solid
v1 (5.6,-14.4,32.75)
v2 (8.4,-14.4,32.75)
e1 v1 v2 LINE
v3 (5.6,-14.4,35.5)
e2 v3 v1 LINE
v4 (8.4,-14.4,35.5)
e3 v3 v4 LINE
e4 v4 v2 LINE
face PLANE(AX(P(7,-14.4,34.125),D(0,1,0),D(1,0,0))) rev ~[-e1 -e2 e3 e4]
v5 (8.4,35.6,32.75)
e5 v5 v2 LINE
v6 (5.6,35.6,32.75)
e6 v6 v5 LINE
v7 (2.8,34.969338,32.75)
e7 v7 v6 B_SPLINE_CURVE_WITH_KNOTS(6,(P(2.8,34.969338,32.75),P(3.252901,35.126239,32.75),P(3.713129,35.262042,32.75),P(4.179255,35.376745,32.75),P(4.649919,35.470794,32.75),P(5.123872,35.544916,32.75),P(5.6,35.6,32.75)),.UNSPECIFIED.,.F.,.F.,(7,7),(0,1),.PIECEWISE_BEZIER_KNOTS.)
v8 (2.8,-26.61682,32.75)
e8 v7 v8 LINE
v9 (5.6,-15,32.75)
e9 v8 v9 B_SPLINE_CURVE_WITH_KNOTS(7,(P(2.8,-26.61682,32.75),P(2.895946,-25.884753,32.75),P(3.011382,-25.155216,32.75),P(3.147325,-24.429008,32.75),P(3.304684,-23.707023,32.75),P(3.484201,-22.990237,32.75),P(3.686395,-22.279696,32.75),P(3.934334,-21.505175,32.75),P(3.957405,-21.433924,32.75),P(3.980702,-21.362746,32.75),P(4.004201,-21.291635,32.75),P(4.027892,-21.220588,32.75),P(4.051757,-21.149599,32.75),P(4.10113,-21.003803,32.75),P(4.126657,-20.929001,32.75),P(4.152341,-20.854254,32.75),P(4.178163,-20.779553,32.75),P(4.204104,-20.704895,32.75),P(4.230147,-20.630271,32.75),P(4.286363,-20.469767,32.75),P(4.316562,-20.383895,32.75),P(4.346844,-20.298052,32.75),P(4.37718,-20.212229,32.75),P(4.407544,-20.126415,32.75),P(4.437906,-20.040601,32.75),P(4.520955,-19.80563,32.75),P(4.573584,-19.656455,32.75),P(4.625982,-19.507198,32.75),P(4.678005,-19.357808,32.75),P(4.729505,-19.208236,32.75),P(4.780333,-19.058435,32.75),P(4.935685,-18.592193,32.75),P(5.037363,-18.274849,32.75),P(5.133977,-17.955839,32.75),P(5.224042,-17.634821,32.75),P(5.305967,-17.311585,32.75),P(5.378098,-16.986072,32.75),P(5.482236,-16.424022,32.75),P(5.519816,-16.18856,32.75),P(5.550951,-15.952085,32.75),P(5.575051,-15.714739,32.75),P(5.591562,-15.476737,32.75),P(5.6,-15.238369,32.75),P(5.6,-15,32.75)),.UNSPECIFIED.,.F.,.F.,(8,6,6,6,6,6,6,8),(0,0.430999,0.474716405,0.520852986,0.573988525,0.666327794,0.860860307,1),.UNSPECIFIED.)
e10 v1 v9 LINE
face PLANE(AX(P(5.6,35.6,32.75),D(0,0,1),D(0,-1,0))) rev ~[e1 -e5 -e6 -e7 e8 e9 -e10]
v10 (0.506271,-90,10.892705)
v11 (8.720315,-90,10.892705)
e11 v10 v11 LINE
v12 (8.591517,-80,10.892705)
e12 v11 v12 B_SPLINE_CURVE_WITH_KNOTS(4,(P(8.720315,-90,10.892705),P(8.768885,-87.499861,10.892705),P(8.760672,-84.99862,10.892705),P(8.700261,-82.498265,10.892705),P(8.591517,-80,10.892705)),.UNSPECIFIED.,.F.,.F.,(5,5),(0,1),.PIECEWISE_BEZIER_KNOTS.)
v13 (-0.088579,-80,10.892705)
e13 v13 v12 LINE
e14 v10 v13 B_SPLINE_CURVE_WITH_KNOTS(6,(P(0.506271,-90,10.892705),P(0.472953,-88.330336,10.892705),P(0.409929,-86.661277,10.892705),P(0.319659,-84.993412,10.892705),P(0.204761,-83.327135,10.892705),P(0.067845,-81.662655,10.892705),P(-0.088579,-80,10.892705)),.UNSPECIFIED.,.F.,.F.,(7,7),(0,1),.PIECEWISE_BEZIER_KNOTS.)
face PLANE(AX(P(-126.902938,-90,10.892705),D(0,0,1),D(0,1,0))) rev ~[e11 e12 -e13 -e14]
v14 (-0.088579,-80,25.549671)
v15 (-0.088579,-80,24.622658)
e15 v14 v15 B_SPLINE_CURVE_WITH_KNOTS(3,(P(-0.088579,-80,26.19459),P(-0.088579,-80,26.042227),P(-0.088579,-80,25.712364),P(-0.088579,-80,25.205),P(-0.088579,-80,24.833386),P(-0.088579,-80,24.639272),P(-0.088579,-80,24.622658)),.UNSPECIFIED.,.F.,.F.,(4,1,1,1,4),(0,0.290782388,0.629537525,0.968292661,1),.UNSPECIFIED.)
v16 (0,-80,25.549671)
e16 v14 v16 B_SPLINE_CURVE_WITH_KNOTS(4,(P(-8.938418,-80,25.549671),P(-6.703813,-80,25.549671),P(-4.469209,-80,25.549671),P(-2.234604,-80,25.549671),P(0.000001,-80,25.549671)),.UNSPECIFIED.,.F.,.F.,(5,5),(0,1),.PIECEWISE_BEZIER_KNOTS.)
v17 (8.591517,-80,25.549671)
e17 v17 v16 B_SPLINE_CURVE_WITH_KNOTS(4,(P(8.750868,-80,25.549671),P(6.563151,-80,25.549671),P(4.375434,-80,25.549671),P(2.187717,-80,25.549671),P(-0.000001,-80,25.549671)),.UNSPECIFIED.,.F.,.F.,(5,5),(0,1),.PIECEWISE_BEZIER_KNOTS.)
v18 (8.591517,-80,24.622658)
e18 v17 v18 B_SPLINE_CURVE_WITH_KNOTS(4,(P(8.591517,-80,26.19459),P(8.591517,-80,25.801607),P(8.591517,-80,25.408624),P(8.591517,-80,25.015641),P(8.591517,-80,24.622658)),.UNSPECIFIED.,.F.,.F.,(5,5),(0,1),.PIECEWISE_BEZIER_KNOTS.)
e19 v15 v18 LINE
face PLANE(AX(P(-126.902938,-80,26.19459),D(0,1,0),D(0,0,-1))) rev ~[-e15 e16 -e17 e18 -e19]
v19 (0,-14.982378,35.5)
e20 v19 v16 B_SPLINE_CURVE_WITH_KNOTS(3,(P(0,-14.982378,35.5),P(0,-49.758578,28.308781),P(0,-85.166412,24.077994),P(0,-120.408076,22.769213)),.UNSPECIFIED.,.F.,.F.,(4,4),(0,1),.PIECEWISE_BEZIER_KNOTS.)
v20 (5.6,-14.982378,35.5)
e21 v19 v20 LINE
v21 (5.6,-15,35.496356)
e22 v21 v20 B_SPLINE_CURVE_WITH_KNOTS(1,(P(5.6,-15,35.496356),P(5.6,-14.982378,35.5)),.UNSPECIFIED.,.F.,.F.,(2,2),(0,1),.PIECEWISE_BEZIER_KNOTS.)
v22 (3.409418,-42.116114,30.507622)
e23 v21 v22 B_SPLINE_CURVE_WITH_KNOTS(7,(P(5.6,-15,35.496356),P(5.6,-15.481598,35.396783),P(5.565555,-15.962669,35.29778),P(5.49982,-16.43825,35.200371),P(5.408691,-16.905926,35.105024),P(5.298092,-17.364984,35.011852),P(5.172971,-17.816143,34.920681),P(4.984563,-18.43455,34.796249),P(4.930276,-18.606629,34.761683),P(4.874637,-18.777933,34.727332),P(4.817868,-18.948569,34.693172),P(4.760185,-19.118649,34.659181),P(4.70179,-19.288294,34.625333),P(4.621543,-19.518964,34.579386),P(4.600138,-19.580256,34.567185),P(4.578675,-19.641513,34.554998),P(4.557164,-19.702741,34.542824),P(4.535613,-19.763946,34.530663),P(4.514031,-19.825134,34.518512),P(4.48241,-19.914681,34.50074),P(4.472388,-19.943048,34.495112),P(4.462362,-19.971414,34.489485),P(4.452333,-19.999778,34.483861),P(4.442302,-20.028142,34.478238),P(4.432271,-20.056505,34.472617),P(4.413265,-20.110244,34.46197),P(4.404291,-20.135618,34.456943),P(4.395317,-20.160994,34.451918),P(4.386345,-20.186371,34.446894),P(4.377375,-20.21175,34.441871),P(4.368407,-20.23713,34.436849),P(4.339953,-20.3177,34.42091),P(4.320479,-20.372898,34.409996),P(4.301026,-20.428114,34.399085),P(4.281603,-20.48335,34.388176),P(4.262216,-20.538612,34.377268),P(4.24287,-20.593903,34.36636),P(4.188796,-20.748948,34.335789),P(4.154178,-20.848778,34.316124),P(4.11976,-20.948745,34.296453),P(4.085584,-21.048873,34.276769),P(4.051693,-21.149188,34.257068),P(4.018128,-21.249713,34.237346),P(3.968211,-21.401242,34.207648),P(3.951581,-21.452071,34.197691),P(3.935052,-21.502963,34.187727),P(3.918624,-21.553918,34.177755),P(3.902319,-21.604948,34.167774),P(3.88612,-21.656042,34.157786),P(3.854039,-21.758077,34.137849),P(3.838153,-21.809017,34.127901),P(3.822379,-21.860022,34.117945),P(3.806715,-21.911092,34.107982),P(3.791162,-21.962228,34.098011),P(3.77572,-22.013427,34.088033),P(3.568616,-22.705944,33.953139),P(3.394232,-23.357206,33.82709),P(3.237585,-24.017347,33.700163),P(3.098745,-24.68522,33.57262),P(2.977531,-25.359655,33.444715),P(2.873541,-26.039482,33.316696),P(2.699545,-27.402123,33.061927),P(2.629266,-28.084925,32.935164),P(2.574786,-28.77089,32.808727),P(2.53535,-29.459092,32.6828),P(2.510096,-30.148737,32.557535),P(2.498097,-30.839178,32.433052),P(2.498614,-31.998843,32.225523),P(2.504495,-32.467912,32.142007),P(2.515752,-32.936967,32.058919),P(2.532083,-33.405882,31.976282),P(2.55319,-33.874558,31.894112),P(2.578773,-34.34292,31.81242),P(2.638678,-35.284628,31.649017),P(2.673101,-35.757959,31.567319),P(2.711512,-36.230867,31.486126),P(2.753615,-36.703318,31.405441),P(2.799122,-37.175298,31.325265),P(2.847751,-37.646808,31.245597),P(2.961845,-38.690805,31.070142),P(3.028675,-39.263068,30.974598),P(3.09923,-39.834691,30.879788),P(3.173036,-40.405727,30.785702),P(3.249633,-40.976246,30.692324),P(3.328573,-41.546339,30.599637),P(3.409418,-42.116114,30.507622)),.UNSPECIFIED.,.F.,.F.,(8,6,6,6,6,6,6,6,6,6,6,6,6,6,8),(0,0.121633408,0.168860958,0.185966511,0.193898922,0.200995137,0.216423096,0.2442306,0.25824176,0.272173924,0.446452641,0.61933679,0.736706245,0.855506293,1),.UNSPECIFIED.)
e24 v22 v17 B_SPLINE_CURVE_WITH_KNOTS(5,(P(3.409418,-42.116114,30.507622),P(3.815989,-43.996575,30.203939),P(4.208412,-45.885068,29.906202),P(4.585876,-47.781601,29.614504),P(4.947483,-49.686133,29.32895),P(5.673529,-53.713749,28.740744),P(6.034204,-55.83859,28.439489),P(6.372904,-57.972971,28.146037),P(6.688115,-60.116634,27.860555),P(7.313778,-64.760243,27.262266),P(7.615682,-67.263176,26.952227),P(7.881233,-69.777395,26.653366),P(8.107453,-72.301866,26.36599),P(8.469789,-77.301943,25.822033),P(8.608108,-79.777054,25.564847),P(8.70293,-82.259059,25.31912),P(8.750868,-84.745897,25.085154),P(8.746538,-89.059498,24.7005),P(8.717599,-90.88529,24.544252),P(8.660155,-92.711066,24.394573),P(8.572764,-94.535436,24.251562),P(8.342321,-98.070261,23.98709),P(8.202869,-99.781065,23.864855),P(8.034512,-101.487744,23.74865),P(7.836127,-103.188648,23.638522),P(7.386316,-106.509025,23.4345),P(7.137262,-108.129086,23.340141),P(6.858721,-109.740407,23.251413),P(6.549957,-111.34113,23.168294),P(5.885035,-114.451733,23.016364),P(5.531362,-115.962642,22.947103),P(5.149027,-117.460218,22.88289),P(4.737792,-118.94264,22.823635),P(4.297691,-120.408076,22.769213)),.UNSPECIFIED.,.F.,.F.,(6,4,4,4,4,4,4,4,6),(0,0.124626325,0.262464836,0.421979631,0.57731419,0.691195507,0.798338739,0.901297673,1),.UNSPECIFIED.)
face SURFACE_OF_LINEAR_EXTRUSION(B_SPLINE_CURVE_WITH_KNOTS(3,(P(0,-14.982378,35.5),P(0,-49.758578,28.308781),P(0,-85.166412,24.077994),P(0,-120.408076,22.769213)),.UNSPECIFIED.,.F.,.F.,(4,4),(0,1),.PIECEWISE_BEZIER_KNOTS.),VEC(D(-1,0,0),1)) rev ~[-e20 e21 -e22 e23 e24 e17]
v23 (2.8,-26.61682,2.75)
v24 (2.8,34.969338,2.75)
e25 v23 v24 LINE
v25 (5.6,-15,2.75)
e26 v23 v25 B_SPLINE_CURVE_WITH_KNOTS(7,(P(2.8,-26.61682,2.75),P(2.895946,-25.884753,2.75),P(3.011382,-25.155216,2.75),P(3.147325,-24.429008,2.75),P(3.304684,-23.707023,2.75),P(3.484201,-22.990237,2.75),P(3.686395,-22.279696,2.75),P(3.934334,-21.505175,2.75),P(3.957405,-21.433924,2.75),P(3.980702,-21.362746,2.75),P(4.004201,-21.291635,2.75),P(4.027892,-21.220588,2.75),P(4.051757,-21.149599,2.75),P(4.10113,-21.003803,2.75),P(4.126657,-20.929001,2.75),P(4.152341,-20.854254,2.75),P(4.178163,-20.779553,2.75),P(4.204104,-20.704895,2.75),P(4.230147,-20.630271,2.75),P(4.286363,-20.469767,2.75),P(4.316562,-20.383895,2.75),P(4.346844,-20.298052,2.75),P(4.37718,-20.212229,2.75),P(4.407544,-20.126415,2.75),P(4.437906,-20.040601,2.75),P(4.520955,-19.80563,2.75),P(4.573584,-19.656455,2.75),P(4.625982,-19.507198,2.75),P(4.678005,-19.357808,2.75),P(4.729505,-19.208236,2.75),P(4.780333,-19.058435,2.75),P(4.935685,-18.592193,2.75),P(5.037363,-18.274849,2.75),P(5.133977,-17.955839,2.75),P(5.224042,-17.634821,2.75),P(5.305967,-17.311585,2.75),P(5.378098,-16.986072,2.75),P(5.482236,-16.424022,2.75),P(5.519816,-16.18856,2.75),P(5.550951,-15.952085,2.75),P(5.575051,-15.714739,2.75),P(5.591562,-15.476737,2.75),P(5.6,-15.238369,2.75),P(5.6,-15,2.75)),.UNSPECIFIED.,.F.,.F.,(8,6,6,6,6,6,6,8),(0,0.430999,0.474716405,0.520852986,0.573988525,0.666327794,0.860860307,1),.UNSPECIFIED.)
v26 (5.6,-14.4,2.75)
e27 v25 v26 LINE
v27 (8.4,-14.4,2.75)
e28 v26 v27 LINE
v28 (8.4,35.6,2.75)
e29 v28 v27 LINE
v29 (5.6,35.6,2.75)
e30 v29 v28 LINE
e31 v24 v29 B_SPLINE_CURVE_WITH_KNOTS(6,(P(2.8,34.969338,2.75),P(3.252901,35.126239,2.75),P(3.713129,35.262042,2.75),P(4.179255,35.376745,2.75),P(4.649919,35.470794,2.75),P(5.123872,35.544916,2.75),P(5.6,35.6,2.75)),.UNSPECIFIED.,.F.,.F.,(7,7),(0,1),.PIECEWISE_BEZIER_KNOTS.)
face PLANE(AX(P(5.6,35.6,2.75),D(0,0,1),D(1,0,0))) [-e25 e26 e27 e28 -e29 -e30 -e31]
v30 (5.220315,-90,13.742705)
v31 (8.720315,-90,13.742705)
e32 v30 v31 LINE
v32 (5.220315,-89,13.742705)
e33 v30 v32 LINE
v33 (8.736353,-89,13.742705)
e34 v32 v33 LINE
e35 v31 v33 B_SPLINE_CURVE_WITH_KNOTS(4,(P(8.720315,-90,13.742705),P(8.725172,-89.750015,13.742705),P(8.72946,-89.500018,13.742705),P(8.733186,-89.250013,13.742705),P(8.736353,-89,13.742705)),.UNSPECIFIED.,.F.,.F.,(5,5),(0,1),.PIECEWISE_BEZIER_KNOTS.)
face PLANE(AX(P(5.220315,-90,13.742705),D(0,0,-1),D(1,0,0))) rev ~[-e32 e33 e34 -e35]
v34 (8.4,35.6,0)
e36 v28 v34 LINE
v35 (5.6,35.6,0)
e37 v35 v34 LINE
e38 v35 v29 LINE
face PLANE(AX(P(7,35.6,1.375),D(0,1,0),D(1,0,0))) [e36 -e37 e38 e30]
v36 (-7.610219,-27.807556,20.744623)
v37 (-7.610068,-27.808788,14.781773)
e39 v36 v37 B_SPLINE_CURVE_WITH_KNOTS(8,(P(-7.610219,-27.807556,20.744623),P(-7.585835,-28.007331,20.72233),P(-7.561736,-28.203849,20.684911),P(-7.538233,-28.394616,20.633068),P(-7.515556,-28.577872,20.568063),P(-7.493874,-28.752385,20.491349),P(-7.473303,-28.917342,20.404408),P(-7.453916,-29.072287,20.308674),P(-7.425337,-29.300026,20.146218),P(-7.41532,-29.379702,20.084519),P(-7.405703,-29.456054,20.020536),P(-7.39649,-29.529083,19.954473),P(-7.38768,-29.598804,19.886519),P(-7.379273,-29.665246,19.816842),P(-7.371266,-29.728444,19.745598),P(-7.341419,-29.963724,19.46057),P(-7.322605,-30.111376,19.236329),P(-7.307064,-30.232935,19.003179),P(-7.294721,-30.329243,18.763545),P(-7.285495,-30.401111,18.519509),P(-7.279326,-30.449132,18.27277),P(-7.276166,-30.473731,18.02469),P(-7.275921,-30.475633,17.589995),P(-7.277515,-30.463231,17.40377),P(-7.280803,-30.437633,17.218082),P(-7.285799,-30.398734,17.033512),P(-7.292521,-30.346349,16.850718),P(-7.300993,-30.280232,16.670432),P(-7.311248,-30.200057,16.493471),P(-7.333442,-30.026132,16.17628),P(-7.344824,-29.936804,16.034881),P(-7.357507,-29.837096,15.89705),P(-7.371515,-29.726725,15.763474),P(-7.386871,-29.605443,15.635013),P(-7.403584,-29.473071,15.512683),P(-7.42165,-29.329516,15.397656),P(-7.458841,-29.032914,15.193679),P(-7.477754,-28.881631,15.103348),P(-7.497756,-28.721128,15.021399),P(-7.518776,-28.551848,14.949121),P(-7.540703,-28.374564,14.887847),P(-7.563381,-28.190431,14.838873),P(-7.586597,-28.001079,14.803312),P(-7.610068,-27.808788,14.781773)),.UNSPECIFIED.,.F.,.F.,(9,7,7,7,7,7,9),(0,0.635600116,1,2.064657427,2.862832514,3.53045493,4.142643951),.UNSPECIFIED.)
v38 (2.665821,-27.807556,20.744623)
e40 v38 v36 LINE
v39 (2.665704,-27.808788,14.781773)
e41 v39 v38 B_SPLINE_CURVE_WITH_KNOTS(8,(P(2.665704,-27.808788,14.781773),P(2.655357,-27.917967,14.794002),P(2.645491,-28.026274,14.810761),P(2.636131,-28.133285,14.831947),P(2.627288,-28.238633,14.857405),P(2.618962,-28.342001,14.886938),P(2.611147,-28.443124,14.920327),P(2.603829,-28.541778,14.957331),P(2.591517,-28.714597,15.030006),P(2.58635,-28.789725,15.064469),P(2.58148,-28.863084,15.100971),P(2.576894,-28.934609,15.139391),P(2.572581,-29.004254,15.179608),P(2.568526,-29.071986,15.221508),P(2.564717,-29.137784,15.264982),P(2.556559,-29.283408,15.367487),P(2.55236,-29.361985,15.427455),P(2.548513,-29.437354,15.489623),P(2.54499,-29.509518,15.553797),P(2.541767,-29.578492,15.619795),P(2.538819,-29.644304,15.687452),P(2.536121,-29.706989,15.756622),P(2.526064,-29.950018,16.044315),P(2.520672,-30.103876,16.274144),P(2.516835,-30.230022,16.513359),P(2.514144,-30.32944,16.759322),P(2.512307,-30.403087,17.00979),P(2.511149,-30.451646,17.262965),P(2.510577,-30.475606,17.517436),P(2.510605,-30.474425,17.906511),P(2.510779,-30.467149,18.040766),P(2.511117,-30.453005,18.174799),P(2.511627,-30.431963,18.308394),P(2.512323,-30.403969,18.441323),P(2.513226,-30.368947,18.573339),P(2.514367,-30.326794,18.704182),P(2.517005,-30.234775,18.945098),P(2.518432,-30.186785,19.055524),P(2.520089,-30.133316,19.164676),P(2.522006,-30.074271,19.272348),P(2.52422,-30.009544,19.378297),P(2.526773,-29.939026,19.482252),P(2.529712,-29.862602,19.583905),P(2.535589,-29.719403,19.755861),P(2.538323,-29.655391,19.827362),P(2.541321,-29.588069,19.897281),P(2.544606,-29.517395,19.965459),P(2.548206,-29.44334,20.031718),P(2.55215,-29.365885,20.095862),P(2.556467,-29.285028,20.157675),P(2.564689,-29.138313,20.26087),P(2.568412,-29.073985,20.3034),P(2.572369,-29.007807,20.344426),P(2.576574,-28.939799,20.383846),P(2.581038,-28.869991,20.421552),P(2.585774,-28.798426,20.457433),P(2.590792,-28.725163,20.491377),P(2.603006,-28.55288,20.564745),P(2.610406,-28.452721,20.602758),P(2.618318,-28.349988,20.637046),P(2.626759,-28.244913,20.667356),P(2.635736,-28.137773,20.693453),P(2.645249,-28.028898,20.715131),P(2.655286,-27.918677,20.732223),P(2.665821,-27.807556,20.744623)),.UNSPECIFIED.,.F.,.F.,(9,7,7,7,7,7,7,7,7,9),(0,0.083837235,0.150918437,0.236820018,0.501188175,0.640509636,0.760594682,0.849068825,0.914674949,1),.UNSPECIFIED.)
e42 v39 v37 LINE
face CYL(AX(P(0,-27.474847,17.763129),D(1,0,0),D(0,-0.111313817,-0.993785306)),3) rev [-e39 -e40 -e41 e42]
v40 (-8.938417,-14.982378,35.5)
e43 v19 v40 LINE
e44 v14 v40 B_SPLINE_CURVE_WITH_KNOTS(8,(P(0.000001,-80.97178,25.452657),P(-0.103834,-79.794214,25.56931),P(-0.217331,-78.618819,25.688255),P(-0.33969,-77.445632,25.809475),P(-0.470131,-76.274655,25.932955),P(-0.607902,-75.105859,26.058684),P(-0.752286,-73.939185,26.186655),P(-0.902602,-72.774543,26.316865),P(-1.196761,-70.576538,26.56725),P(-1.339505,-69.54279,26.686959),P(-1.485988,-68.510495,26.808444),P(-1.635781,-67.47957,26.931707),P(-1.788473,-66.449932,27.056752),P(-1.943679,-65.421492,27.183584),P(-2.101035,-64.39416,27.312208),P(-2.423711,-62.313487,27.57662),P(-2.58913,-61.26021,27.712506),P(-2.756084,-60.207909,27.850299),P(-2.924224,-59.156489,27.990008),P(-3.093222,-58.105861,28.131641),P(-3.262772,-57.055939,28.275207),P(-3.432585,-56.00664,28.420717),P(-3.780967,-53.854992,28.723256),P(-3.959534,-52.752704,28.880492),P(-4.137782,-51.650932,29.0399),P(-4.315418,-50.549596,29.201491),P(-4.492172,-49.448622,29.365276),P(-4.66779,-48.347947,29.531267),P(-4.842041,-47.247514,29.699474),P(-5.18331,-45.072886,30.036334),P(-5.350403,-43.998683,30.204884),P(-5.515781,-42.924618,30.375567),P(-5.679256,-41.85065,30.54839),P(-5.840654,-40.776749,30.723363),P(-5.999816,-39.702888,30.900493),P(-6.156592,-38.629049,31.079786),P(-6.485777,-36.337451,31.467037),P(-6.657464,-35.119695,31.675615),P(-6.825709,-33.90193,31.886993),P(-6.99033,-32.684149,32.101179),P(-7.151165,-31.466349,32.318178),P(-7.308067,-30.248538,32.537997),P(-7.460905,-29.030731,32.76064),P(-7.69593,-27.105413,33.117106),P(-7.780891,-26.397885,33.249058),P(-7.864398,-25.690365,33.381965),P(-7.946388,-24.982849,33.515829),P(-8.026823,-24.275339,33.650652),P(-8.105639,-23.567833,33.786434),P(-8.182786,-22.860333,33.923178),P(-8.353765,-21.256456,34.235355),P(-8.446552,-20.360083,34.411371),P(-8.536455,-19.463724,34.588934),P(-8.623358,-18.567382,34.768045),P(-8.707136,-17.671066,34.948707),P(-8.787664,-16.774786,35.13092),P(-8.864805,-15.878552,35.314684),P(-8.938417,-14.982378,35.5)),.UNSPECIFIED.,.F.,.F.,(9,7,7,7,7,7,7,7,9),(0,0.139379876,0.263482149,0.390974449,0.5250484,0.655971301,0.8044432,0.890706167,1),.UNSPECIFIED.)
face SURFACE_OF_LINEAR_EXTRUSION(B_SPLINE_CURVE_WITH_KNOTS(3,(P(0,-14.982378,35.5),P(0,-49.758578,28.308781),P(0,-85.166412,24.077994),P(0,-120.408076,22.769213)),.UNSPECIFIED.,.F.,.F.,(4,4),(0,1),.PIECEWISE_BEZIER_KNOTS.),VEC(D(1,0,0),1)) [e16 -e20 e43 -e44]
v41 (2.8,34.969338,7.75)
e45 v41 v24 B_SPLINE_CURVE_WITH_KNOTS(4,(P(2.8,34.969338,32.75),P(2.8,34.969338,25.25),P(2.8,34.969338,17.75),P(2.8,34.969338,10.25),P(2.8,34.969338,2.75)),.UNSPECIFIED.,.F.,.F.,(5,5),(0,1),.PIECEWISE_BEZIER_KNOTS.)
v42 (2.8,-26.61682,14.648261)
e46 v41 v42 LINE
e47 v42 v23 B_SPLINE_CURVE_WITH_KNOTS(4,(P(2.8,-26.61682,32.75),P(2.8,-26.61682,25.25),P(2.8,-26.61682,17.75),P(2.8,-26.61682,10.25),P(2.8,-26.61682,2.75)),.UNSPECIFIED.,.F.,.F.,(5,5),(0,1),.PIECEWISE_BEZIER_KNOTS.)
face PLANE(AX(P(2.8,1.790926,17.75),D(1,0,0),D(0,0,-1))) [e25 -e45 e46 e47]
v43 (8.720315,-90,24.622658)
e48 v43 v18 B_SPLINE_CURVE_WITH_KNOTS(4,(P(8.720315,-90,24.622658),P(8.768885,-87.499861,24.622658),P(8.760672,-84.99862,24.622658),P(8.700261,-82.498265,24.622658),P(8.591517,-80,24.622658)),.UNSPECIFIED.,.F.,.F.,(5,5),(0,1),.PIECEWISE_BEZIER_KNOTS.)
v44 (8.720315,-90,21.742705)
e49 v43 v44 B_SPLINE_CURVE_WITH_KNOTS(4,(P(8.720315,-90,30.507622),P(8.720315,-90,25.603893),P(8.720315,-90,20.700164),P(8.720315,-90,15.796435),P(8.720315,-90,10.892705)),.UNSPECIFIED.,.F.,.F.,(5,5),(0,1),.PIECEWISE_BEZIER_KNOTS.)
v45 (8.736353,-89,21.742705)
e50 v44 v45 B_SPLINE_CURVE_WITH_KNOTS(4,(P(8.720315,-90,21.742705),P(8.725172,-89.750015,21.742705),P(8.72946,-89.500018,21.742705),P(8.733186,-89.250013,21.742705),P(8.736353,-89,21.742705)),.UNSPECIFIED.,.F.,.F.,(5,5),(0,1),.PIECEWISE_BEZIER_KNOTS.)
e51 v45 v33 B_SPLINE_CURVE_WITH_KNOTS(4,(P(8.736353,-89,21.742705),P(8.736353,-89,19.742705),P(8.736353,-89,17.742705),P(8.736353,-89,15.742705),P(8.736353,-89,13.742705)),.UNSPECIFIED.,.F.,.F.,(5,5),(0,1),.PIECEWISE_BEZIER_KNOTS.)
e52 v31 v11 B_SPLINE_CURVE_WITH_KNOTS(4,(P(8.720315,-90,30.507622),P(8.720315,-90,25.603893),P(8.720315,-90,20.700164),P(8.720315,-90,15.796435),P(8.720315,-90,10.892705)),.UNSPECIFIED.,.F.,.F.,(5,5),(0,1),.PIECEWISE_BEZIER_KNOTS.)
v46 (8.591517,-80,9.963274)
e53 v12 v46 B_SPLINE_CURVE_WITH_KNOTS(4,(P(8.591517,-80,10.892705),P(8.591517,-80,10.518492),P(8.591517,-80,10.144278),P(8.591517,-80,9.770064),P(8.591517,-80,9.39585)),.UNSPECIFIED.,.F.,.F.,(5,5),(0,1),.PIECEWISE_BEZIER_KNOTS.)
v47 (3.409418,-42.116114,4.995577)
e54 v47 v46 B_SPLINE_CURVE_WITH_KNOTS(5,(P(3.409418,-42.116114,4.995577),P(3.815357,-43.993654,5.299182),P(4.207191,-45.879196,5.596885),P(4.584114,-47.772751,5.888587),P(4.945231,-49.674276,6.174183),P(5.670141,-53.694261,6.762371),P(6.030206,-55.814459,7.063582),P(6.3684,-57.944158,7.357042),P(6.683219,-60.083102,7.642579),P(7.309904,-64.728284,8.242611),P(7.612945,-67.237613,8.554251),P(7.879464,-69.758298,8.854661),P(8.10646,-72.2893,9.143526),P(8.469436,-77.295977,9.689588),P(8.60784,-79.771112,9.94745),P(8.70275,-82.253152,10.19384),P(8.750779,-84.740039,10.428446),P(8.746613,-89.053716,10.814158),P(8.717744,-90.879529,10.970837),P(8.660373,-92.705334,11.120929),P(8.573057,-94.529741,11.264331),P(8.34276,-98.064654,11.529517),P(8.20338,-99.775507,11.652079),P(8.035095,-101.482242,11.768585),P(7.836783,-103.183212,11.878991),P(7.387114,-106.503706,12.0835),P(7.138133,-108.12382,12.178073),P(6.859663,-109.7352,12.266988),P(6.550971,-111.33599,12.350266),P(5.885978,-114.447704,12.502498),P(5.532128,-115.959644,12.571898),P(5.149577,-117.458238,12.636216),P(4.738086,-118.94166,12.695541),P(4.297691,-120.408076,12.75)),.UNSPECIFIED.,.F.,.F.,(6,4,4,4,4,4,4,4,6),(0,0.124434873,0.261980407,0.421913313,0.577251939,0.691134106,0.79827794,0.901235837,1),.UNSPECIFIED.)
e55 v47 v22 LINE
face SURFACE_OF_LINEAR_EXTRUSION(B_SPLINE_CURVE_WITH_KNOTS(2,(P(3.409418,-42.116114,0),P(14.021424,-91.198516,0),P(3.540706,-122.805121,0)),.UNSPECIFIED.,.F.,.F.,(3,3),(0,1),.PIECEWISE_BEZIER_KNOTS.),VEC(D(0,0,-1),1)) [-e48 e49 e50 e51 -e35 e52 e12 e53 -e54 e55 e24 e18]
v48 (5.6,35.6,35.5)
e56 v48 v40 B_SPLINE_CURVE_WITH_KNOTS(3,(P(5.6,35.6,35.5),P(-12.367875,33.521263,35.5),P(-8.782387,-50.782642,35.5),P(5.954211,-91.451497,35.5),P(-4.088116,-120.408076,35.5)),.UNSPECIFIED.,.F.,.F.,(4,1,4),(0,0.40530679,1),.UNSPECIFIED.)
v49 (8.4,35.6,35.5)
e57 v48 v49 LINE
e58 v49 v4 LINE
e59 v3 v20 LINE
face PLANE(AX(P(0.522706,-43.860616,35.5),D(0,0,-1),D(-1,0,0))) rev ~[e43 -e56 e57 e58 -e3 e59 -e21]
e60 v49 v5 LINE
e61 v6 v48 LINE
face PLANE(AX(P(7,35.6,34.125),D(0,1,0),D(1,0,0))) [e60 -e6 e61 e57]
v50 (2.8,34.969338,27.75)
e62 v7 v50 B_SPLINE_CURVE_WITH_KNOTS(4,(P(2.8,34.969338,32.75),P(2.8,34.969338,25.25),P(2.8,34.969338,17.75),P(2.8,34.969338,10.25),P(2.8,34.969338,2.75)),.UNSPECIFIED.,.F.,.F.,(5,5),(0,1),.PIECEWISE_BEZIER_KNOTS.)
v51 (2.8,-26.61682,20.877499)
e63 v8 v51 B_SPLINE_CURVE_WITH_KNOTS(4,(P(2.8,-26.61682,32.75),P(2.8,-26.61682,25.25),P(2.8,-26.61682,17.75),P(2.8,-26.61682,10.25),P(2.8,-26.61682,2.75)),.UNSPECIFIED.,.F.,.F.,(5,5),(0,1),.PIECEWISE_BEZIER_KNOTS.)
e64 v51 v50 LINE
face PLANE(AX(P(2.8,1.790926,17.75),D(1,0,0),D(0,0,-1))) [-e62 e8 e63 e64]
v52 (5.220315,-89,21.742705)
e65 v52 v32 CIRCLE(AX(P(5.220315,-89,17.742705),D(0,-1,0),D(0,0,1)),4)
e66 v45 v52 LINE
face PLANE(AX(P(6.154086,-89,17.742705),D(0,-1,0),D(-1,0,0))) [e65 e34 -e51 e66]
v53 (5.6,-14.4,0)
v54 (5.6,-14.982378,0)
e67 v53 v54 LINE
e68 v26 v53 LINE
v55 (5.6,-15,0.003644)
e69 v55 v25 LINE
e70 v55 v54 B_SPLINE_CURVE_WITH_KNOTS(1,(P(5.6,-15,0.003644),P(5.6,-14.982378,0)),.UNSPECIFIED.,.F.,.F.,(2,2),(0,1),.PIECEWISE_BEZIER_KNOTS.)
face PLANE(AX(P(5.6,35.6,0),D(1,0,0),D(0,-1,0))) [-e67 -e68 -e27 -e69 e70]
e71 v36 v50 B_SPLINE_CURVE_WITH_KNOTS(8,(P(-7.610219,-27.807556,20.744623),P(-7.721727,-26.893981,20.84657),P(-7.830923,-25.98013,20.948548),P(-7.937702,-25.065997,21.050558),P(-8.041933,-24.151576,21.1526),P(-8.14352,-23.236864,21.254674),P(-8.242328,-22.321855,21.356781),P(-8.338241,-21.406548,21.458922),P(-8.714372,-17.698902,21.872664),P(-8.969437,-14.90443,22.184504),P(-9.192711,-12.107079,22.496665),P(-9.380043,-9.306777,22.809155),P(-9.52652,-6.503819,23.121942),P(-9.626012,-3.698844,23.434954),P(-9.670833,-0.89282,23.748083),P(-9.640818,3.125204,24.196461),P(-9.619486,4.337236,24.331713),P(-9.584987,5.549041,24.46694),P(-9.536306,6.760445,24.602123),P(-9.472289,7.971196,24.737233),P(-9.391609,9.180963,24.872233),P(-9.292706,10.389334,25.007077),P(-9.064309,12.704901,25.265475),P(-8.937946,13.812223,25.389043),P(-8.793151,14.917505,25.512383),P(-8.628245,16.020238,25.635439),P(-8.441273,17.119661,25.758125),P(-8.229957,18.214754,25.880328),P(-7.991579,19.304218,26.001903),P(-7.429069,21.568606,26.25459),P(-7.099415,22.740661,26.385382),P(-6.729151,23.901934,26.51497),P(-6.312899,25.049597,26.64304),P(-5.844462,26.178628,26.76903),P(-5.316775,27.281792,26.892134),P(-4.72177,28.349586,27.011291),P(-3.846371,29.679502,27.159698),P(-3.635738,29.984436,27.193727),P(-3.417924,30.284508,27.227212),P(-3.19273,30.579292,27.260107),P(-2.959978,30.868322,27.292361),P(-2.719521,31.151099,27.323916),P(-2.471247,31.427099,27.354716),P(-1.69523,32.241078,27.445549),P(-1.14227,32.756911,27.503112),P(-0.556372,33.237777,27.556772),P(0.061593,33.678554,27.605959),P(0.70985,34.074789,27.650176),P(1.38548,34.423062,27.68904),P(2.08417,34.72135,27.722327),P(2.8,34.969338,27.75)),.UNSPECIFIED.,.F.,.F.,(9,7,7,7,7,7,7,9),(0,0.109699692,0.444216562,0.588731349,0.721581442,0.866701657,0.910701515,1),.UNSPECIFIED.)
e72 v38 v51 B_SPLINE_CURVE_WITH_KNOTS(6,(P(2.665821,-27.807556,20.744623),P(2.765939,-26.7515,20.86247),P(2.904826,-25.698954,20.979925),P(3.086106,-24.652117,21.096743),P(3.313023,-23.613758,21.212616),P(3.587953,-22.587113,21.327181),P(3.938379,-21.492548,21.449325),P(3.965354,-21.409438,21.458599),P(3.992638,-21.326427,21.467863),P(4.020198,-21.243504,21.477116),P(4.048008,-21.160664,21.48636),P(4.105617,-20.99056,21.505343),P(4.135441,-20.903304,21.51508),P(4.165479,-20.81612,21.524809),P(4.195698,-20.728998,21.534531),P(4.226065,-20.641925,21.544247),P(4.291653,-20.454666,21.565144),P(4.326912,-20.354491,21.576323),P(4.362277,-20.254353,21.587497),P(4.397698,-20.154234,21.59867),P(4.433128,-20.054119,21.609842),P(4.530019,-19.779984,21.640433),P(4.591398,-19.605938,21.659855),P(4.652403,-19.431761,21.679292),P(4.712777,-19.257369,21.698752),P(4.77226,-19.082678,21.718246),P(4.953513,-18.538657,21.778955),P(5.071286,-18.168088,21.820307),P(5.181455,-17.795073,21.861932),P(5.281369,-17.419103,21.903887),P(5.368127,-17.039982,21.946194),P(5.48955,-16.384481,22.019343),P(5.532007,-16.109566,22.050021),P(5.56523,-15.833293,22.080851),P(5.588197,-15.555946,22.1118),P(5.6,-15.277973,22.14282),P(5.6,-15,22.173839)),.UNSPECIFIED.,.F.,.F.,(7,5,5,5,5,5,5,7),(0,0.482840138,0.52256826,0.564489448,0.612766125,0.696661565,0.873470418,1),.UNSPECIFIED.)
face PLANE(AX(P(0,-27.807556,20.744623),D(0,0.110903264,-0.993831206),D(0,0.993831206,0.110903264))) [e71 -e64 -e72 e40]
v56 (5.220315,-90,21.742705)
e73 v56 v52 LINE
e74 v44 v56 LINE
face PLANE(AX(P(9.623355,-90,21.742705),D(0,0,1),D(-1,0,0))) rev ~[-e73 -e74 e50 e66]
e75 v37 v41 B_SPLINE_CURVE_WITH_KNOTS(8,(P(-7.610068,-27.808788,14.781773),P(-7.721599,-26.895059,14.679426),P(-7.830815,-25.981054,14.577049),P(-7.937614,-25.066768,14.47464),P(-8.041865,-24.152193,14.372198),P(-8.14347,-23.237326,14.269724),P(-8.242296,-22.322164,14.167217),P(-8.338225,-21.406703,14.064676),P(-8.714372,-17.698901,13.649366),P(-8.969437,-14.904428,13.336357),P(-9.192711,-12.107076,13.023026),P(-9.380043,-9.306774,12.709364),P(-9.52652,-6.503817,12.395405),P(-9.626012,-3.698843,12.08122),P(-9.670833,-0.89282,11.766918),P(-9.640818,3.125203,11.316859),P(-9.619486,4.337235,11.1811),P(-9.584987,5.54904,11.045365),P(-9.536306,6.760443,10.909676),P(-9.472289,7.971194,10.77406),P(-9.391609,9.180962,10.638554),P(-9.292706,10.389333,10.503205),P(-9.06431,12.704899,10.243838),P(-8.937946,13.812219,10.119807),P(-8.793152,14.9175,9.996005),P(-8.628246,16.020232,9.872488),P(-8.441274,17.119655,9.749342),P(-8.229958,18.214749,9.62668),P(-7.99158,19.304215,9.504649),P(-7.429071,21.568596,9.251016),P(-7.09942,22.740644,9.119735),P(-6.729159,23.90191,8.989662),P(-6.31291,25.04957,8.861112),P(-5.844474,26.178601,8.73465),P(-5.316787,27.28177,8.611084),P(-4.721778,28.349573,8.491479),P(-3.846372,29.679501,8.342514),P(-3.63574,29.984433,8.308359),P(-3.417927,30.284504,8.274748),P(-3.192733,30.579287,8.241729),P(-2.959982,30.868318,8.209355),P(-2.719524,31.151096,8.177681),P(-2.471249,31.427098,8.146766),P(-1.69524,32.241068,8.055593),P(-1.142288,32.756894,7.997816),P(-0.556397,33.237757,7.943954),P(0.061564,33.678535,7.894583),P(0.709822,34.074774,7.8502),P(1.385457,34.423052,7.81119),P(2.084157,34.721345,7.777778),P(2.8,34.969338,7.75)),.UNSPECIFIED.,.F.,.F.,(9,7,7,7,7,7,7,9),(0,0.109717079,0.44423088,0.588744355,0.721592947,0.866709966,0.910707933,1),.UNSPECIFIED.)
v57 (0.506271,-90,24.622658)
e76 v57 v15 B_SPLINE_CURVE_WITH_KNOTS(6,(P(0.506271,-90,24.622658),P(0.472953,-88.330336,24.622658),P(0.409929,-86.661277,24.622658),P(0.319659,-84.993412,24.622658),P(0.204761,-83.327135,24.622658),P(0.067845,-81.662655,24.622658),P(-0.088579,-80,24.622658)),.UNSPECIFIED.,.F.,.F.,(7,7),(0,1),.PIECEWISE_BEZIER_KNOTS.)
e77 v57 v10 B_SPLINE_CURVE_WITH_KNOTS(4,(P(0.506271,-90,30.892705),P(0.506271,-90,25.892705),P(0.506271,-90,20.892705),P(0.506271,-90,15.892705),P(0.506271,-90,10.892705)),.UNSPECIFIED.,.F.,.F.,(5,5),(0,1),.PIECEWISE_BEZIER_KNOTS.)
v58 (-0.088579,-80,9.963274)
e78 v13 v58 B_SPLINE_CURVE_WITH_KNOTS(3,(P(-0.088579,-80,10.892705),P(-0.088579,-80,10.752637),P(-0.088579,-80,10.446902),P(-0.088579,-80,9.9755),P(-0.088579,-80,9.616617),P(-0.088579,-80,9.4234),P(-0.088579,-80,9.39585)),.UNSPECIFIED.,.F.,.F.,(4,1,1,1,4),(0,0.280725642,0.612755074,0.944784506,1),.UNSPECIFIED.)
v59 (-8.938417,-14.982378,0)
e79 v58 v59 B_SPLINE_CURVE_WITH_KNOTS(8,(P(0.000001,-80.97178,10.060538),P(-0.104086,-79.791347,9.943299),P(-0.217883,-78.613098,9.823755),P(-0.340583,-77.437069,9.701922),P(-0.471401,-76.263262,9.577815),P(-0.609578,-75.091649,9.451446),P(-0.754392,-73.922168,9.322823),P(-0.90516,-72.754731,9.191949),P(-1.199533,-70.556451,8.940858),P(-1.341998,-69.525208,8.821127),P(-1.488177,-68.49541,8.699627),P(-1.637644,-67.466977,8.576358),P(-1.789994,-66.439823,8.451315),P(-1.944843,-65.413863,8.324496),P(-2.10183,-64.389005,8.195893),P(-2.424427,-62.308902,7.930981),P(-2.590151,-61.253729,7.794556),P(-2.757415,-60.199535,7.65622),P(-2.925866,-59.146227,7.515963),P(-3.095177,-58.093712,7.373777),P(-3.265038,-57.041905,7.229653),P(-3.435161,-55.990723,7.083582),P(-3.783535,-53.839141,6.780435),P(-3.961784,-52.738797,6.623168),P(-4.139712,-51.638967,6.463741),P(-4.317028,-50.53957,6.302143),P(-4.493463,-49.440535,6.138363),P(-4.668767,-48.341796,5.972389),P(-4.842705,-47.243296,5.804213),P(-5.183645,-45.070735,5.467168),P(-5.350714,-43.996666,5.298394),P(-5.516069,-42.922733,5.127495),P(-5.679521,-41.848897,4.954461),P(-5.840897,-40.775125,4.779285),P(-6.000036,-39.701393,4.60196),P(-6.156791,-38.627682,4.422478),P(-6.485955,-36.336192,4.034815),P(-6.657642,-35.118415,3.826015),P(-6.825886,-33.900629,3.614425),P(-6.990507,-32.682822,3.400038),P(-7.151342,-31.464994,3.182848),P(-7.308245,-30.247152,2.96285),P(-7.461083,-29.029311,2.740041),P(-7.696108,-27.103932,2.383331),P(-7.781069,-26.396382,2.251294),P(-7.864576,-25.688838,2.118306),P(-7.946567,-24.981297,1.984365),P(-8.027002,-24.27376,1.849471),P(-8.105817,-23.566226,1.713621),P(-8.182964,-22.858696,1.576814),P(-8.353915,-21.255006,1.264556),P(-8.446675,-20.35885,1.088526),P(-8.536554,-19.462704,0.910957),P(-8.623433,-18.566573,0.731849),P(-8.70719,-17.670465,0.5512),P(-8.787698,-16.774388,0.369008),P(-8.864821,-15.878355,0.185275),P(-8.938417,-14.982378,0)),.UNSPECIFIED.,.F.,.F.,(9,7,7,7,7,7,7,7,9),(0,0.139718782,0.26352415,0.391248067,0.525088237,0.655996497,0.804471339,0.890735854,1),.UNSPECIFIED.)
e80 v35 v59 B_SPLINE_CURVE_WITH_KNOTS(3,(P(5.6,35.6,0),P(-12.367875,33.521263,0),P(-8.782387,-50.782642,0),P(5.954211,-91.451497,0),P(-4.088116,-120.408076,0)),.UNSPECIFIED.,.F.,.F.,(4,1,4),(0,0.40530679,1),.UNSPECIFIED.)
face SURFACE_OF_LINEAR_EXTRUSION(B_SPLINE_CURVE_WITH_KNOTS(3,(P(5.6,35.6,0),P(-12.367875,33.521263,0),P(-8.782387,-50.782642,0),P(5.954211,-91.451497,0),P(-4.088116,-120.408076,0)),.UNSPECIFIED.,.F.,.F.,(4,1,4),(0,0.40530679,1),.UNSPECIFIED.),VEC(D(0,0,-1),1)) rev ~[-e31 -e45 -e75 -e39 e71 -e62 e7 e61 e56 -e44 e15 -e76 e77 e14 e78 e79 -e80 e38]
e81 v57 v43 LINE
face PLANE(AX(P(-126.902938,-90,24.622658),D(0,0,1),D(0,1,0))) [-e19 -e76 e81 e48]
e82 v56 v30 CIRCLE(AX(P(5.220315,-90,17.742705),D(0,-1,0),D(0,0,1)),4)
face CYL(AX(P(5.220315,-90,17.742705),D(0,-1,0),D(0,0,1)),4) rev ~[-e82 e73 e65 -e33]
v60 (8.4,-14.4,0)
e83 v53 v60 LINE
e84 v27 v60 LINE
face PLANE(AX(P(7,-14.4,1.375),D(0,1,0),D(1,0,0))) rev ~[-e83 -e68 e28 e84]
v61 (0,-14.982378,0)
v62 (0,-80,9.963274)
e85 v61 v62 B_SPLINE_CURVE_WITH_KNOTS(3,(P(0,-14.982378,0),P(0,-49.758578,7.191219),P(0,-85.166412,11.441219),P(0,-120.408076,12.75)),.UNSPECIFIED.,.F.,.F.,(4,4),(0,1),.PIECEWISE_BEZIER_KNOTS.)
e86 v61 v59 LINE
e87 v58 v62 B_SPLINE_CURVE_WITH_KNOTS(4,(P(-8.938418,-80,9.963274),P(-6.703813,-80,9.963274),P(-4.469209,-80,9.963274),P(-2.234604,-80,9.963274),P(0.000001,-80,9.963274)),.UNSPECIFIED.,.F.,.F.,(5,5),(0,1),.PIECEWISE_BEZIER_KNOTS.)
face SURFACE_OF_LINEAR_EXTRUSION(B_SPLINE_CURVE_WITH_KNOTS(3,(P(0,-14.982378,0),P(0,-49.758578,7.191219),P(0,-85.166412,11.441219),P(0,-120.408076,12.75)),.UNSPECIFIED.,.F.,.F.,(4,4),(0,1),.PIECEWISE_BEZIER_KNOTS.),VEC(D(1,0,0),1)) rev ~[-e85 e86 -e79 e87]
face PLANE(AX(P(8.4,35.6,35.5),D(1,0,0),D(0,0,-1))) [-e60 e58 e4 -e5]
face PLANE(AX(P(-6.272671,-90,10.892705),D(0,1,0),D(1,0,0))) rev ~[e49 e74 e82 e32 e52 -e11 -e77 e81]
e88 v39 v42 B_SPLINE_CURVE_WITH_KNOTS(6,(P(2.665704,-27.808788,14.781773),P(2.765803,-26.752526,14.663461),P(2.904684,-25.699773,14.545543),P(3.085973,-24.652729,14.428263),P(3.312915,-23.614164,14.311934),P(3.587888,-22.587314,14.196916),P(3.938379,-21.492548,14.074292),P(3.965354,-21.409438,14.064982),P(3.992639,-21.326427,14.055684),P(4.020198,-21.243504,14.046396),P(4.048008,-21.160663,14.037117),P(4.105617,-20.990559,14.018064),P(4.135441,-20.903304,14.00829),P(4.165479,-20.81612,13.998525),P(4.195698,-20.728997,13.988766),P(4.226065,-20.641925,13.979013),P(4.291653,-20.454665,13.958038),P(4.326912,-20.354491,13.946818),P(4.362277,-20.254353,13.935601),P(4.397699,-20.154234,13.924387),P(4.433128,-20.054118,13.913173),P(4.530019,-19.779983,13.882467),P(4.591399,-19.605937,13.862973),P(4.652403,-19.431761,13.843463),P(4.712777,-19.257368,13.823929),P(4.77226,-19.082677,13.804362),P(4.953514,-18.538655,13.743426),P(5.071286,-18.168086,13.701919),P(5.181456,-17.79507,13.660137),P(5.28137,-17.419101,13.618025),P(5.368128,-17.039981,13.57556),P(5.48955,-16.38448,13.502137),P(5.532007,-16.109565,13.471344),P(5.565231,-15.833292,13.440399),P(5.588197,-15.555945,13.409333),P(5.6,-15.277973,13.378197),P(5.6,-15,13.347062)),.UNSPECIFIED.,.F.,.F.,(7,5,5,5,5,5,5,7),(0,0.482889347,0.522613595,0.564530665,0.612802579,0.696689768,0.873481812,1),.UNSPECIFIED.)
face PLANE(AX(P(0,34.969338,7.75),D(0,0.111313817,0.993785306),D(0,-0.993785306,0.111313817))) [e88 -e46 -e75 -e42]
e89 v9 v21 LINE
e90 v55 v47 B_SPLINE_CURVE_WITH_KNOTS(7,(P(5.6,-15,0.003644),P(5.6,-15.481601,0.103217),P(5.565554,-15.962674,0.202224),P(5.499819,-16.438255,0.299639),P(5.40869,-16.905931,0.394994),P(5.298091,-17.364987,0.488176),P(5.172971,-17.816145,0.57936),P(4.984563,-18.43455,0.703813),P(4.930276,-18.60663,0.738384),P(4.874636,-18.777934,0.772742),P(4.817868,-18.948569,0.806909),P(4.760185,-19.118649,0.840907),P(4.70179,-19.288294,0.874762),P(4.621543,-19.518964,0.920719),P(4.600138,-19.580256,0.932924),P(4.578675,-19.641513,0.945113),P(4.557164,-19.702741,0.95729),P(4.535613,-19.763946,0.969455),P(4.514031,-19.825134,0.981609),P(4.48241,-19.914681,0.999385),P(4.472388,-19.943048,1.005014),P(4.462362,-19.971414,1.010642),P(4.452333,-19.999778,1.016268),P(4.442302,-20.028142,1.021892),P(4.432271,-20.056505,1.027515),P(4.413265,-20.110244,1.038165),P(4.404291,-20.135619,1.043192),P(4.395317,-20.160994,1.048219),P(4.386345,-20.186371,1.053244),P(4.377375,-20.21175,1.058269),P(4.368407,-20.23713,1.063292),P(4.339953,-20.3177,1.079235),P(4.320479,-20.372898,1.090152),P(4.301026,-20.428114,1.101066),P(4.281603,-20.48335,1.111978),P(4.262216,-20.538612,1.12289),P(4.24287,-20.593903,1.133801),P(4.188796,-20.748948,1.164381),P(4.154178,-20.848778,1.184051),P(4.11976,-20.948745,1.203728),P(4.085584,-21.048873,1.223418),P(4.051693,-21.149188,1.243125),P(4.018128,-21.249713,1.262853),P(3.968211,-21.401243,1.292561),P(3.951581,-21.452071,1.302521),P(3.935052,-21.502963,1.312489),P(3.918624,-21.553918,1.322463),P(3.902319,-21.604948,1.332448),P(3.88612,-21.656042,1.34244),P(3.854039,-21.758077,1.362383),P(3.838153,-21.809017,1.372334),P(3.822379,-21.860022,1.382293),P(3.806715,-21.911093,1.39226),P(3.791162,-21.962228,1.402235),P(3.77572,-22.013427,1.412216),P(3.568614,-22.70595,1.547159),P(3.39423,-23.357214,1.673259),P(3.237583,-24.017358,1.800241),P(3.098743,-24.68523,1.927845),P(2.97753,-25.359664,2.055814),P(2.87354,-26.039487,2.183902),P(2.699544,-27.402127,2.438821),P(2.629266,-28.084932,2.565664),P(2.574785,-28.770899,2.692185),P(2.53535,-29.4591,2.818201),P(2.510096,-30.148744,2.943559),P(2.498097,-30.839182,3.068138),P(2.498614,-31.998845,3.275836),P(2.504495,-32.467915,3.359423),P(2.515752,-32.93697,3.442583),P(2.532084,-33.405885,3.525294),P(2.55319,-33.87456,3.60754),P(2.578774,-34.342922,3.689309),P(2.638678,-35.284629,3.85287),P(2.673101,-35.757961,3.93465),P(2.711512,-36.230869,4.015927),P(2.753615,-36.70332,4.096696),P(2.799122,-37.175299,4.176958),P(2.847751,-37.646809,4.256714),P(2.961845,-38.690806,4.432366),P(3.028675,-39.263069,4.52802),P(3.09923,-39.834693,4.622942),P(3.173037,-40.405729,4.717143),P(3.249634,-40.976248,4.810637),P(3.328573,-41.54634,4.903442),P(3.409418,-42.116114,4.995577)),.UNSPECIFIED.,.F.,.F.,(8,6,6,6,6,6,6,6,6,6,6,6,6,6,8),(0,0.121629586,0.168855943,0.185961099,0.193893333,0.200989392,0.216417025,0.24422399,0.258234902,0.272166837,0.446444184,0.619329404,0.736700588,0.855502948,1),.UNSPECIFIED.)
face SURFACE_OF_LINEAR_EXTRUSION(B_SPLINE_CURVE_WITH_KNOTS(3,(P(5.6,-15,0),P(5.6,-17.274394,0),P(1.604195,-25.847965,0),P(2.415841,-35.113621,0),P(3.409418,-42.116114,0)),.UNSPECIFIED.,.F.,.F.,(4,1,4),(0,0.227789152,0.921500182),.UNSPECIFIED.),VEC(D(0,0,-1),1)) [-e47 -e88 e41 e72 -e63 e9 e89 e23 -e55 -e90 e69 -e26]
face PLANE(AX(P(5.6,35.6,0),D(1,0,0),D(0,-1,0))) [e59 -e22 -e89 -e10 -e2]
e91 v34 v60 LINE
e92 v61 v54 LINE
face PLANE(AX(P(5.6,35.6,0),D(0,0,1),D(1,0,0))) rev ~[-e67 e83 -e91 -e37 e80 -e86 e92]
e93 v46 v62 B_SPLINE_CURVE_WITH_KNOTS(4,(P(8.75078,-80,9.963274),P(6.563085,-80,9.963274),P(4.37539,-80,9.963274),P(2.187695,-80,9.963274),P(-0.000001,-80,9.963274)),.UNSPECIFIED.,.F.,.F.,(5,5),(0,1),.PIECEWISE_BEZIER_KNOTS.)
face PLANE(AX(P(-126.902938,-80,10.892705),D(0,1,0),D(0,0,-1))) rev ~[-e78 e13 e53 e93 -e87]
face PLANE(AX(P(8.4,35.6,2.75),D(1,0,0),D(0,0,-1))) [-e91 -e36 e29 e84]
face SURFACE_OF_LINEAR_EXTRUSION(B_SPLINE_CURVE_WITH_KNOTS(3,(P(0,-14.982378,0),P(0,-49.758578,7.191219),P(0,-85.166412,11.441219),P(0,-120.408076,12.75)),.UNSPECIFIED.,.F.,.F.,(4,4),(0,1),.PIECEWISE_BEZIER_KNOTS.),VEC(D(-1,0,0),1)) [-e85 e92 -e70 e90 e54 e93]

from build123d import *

# Parameters (mm, degrees)
BOSS_EXTRUDE2_DEPTH     = 35.5
CUT_EXTRUDE1_DEPTH      = 17.75
CUT_EXTRUDE2_DEPTH      = 2.8
SKETCH5_W               = 2.8
SKETCH5_H               = 2.75
BOSS_EXTRUDE3_DEPTH     = 50
CUT_EXTRUDE3_DEPTH      = 15
CUT_EXTRUDE4_DEPTH      = 126.902937834
CUT_EXTRUDE4_DEPTH_BACK = 126.902937834
SKETCH12_W              = 1.496855304
SKETCH12_H              = 10
SKETCH12_W_2            = 1.571931937
CUT_EXTRUDE5_DEPTH      = 20
CUT_EXTRUDE6_DEPTH      = 1


with BuildPart() as part:
    # Sketch1 → Boss-Extrude2 (new body)
    with BuildSketch(Plane.XY):
        with BuildLine():
            Line((5.6, 35.6), (5.6, -15))
            add(Edge.make_bspline(
                [(5.6, -15), (5.6, -17.274393969), (1.604195195, -25.847964508), (2.415841027, -35.113621235), (3.409417942, -42.11611418)],
                knots=[0, 0, 0, 0, 0.227789152, 0.921500182, 0.921500182, 0.921500182, 0.921500182], degree=3))
            add(Edge.make_bspline(
                [(3.409417942, -42.11611418), (14.021423643, -91.198515752), (3.540705721, -122.805120936)],
                knots=[0, 0, 0, 1, 1, 1], degree=2))
            Line((3.540705721, -122.805120936), (-4.088116427, -120.408076375))
            add(Edge.make_bspline(
                [(5.6, 35.6), (-12.367874994, 33.521263174), (-8.7823866, -50.782642202), (5.954211422, -91.451497422), (-4.088116427, -120.408076375)],
                knots=[0, 0, 0, 0, 0.40530679, 1, 1, 1, 1], degree=3))
        make_face()
    extrude(amount=BOSS_EXTRUDE2_DEPTH)

    # Sketch3 → Cut-Extrude1 (cut, symmetric)
    with BuildSketch(Plane(origin=(0, 0, 0), x_dir=(0, 0, -1), z_dir=(1, 0, 0))):
        with BuildLine():
            Line((0, -14.98237842), (29.62736343, -14.98237842))
            Line((29.62736343, -14.98237842), (29.62736343, -131.572481325))
            Line((29.62736343, -131.572481325), (-60.547074518, -131.572481325))
            Line((-60.547074518, -131.572481325), (-60.547074518, -14.98237842))
            Line((-60.547074518, -14.98237842), (-35.5, -14.98237842))
            add(Edge.make_bspline(
                [(-35.5, -14.98237842), (-28.308780975, -49.75857776), (-24.077993602, -85.166412163), (-22.769212626, -120.408076375)],
                knots=[0, 0, 0, 0, 1, 1, 1, 1], degree=3))
            Line((-22.769212626, -120.408076375), (-12.75, -120.408076375))
            add(Edge.make_bspline(
                [(0, -14.98237842), (-7.191219025, -49.75857776), (-11.441219025, -85.166412163), (-12.75, -120.408076375)],
                knots=[0, 0, 0, 0, 1, 1, 1, 1], degree=3))
        make_face()
    extrude(amount=CUT_EXTRUDE1_DEPTH, both=True, mode=Mode.SUBTRACT)

    # Sketch4 → Cut-Extrude2 (cut)
    with BuildSketch(Plane(origin=(5.6, 0, 0), x_dir=(0, 0, -1), z_dir=(1, 0, 0))):
        Polygon((-2.75, 35.6), (-32.75, 35.6), (-32.75, -15.000000007), (-32.75, -32.018147114), (-2.75, -32.018147114), (-2.75, -15.000000007), align=None)
    extrude(amount=-CUT_EXTRUDE2_DEPTH, mode=Mode.SUBTRACT)

    # Sketch5 → Boss-Extrude3 (add)
    with BuildSketch(Plane(origin=(0, 35.6, 0), x_dir=(1, 0, 0), z_dir=(0, 1, 0))):
        with Locations((7, -1.375)):
            Rectangle(SKETCH5_W, SKETCH5_H)
        with Locations((7, -34.125)):
            Rectangle(SKETCH5_W, SKETCH5_H)
    extrude(amount=-BOSS_EXTRUDE3_DEPTH)

    # Sketch6 → Cut-Extrude3 (cut, symmetric)
    with BuildSketch(Plane(origin=(0, 0, 0), x_dir=(0, 0, -1), z_dir=(1, 0, 0))):
        with BuildLine():
            Line((-7.75, 34.96933844), (-14.781773193, -27.808788024))
            ThreePointArc((-14.781773193, -27.808788024), (-17.763748777, -30.474846509), (-20.744622729, -27.807556366))
            Line((-20.744622729, -27.807556366), (-27.75, 34.96933844))
            Line((-27.75, 34.96933844), (-7.75, 34.96933844))
        make_face()
    extrude(amount=CUT_EXTRUDE3_DEPTH, both=True, mode=Mode.SUBTRACT)

    # Sketch12 → Cut-Extrude4 (cut, two sides: drawn at the far end of the back side and taken through both)
    with BuildSketch(Plane(origin=(0, 0, 0), x_dir=(0, 0, -1), z_dir=(1, 0, 0)).offset(-CUT_EXTRUDE4_DEPTH_BACK)):
        with Locations((-10.144277768, -85)):
            Rectangle(SKETCH12_W, SKETCH12_H)
        with Locations((-25.408624424, -85)):
            Rectangle(SKETCH12_W_2, SKETCH12_H)
    extrude(amount=CUT_EXTRUDE4_DEPTH + CUT_EXTRUDE4_DEPTH_BACK, mode=Mode.SUBTRACT)

    # Sketch14 → Cut-Extrude5 (cut)
    with BuildSketch(Plane(origin=(0, 0, 10.89270542), x_dir=(-1, 0, 0), z_dir=(0, 0, -1))):
        Polygon((-8.720315384, -90), (6.272671273, -90), (6.272671273, -124.093634091), (-10.541100015, -124.093634091), (-10.541100015, -90), align=None)
    extrude(amount=-CUT_EXTRUDE5_DEPTH, mode=Mode.SUBTRACT)

    # Sketch15 → Cut-Extrude6 (cut)
    with BuildSketch(Plane(origin=(0, -90, 0), x_dir=(-1, 0, 0), z_dir=(0, -1, 0))):
        with BuildLine():
            Line((-5.220315384, -13.74270542), (-8.720315384, -13.74270542))
            Line((-8.720315384, -13.74270542), (-9.623354914, -13.74270542))
            Line((-9.623354914, -13.74270542), (-9.623354914, -21.74270542))
            Line((-9.623354914, -21.74270542), (-5.220315384, -21.74270542))
            ThreePointArc((-5.220315384, -21.74270542), (-1.220315384, -17.74270542), (-5.220315384, -13.74270542))
        make_face()
    extrude(amount=-CUT_EXTRUDE6_DEPTH, mode=Mode.SUBTRACT)


solid = part.part
